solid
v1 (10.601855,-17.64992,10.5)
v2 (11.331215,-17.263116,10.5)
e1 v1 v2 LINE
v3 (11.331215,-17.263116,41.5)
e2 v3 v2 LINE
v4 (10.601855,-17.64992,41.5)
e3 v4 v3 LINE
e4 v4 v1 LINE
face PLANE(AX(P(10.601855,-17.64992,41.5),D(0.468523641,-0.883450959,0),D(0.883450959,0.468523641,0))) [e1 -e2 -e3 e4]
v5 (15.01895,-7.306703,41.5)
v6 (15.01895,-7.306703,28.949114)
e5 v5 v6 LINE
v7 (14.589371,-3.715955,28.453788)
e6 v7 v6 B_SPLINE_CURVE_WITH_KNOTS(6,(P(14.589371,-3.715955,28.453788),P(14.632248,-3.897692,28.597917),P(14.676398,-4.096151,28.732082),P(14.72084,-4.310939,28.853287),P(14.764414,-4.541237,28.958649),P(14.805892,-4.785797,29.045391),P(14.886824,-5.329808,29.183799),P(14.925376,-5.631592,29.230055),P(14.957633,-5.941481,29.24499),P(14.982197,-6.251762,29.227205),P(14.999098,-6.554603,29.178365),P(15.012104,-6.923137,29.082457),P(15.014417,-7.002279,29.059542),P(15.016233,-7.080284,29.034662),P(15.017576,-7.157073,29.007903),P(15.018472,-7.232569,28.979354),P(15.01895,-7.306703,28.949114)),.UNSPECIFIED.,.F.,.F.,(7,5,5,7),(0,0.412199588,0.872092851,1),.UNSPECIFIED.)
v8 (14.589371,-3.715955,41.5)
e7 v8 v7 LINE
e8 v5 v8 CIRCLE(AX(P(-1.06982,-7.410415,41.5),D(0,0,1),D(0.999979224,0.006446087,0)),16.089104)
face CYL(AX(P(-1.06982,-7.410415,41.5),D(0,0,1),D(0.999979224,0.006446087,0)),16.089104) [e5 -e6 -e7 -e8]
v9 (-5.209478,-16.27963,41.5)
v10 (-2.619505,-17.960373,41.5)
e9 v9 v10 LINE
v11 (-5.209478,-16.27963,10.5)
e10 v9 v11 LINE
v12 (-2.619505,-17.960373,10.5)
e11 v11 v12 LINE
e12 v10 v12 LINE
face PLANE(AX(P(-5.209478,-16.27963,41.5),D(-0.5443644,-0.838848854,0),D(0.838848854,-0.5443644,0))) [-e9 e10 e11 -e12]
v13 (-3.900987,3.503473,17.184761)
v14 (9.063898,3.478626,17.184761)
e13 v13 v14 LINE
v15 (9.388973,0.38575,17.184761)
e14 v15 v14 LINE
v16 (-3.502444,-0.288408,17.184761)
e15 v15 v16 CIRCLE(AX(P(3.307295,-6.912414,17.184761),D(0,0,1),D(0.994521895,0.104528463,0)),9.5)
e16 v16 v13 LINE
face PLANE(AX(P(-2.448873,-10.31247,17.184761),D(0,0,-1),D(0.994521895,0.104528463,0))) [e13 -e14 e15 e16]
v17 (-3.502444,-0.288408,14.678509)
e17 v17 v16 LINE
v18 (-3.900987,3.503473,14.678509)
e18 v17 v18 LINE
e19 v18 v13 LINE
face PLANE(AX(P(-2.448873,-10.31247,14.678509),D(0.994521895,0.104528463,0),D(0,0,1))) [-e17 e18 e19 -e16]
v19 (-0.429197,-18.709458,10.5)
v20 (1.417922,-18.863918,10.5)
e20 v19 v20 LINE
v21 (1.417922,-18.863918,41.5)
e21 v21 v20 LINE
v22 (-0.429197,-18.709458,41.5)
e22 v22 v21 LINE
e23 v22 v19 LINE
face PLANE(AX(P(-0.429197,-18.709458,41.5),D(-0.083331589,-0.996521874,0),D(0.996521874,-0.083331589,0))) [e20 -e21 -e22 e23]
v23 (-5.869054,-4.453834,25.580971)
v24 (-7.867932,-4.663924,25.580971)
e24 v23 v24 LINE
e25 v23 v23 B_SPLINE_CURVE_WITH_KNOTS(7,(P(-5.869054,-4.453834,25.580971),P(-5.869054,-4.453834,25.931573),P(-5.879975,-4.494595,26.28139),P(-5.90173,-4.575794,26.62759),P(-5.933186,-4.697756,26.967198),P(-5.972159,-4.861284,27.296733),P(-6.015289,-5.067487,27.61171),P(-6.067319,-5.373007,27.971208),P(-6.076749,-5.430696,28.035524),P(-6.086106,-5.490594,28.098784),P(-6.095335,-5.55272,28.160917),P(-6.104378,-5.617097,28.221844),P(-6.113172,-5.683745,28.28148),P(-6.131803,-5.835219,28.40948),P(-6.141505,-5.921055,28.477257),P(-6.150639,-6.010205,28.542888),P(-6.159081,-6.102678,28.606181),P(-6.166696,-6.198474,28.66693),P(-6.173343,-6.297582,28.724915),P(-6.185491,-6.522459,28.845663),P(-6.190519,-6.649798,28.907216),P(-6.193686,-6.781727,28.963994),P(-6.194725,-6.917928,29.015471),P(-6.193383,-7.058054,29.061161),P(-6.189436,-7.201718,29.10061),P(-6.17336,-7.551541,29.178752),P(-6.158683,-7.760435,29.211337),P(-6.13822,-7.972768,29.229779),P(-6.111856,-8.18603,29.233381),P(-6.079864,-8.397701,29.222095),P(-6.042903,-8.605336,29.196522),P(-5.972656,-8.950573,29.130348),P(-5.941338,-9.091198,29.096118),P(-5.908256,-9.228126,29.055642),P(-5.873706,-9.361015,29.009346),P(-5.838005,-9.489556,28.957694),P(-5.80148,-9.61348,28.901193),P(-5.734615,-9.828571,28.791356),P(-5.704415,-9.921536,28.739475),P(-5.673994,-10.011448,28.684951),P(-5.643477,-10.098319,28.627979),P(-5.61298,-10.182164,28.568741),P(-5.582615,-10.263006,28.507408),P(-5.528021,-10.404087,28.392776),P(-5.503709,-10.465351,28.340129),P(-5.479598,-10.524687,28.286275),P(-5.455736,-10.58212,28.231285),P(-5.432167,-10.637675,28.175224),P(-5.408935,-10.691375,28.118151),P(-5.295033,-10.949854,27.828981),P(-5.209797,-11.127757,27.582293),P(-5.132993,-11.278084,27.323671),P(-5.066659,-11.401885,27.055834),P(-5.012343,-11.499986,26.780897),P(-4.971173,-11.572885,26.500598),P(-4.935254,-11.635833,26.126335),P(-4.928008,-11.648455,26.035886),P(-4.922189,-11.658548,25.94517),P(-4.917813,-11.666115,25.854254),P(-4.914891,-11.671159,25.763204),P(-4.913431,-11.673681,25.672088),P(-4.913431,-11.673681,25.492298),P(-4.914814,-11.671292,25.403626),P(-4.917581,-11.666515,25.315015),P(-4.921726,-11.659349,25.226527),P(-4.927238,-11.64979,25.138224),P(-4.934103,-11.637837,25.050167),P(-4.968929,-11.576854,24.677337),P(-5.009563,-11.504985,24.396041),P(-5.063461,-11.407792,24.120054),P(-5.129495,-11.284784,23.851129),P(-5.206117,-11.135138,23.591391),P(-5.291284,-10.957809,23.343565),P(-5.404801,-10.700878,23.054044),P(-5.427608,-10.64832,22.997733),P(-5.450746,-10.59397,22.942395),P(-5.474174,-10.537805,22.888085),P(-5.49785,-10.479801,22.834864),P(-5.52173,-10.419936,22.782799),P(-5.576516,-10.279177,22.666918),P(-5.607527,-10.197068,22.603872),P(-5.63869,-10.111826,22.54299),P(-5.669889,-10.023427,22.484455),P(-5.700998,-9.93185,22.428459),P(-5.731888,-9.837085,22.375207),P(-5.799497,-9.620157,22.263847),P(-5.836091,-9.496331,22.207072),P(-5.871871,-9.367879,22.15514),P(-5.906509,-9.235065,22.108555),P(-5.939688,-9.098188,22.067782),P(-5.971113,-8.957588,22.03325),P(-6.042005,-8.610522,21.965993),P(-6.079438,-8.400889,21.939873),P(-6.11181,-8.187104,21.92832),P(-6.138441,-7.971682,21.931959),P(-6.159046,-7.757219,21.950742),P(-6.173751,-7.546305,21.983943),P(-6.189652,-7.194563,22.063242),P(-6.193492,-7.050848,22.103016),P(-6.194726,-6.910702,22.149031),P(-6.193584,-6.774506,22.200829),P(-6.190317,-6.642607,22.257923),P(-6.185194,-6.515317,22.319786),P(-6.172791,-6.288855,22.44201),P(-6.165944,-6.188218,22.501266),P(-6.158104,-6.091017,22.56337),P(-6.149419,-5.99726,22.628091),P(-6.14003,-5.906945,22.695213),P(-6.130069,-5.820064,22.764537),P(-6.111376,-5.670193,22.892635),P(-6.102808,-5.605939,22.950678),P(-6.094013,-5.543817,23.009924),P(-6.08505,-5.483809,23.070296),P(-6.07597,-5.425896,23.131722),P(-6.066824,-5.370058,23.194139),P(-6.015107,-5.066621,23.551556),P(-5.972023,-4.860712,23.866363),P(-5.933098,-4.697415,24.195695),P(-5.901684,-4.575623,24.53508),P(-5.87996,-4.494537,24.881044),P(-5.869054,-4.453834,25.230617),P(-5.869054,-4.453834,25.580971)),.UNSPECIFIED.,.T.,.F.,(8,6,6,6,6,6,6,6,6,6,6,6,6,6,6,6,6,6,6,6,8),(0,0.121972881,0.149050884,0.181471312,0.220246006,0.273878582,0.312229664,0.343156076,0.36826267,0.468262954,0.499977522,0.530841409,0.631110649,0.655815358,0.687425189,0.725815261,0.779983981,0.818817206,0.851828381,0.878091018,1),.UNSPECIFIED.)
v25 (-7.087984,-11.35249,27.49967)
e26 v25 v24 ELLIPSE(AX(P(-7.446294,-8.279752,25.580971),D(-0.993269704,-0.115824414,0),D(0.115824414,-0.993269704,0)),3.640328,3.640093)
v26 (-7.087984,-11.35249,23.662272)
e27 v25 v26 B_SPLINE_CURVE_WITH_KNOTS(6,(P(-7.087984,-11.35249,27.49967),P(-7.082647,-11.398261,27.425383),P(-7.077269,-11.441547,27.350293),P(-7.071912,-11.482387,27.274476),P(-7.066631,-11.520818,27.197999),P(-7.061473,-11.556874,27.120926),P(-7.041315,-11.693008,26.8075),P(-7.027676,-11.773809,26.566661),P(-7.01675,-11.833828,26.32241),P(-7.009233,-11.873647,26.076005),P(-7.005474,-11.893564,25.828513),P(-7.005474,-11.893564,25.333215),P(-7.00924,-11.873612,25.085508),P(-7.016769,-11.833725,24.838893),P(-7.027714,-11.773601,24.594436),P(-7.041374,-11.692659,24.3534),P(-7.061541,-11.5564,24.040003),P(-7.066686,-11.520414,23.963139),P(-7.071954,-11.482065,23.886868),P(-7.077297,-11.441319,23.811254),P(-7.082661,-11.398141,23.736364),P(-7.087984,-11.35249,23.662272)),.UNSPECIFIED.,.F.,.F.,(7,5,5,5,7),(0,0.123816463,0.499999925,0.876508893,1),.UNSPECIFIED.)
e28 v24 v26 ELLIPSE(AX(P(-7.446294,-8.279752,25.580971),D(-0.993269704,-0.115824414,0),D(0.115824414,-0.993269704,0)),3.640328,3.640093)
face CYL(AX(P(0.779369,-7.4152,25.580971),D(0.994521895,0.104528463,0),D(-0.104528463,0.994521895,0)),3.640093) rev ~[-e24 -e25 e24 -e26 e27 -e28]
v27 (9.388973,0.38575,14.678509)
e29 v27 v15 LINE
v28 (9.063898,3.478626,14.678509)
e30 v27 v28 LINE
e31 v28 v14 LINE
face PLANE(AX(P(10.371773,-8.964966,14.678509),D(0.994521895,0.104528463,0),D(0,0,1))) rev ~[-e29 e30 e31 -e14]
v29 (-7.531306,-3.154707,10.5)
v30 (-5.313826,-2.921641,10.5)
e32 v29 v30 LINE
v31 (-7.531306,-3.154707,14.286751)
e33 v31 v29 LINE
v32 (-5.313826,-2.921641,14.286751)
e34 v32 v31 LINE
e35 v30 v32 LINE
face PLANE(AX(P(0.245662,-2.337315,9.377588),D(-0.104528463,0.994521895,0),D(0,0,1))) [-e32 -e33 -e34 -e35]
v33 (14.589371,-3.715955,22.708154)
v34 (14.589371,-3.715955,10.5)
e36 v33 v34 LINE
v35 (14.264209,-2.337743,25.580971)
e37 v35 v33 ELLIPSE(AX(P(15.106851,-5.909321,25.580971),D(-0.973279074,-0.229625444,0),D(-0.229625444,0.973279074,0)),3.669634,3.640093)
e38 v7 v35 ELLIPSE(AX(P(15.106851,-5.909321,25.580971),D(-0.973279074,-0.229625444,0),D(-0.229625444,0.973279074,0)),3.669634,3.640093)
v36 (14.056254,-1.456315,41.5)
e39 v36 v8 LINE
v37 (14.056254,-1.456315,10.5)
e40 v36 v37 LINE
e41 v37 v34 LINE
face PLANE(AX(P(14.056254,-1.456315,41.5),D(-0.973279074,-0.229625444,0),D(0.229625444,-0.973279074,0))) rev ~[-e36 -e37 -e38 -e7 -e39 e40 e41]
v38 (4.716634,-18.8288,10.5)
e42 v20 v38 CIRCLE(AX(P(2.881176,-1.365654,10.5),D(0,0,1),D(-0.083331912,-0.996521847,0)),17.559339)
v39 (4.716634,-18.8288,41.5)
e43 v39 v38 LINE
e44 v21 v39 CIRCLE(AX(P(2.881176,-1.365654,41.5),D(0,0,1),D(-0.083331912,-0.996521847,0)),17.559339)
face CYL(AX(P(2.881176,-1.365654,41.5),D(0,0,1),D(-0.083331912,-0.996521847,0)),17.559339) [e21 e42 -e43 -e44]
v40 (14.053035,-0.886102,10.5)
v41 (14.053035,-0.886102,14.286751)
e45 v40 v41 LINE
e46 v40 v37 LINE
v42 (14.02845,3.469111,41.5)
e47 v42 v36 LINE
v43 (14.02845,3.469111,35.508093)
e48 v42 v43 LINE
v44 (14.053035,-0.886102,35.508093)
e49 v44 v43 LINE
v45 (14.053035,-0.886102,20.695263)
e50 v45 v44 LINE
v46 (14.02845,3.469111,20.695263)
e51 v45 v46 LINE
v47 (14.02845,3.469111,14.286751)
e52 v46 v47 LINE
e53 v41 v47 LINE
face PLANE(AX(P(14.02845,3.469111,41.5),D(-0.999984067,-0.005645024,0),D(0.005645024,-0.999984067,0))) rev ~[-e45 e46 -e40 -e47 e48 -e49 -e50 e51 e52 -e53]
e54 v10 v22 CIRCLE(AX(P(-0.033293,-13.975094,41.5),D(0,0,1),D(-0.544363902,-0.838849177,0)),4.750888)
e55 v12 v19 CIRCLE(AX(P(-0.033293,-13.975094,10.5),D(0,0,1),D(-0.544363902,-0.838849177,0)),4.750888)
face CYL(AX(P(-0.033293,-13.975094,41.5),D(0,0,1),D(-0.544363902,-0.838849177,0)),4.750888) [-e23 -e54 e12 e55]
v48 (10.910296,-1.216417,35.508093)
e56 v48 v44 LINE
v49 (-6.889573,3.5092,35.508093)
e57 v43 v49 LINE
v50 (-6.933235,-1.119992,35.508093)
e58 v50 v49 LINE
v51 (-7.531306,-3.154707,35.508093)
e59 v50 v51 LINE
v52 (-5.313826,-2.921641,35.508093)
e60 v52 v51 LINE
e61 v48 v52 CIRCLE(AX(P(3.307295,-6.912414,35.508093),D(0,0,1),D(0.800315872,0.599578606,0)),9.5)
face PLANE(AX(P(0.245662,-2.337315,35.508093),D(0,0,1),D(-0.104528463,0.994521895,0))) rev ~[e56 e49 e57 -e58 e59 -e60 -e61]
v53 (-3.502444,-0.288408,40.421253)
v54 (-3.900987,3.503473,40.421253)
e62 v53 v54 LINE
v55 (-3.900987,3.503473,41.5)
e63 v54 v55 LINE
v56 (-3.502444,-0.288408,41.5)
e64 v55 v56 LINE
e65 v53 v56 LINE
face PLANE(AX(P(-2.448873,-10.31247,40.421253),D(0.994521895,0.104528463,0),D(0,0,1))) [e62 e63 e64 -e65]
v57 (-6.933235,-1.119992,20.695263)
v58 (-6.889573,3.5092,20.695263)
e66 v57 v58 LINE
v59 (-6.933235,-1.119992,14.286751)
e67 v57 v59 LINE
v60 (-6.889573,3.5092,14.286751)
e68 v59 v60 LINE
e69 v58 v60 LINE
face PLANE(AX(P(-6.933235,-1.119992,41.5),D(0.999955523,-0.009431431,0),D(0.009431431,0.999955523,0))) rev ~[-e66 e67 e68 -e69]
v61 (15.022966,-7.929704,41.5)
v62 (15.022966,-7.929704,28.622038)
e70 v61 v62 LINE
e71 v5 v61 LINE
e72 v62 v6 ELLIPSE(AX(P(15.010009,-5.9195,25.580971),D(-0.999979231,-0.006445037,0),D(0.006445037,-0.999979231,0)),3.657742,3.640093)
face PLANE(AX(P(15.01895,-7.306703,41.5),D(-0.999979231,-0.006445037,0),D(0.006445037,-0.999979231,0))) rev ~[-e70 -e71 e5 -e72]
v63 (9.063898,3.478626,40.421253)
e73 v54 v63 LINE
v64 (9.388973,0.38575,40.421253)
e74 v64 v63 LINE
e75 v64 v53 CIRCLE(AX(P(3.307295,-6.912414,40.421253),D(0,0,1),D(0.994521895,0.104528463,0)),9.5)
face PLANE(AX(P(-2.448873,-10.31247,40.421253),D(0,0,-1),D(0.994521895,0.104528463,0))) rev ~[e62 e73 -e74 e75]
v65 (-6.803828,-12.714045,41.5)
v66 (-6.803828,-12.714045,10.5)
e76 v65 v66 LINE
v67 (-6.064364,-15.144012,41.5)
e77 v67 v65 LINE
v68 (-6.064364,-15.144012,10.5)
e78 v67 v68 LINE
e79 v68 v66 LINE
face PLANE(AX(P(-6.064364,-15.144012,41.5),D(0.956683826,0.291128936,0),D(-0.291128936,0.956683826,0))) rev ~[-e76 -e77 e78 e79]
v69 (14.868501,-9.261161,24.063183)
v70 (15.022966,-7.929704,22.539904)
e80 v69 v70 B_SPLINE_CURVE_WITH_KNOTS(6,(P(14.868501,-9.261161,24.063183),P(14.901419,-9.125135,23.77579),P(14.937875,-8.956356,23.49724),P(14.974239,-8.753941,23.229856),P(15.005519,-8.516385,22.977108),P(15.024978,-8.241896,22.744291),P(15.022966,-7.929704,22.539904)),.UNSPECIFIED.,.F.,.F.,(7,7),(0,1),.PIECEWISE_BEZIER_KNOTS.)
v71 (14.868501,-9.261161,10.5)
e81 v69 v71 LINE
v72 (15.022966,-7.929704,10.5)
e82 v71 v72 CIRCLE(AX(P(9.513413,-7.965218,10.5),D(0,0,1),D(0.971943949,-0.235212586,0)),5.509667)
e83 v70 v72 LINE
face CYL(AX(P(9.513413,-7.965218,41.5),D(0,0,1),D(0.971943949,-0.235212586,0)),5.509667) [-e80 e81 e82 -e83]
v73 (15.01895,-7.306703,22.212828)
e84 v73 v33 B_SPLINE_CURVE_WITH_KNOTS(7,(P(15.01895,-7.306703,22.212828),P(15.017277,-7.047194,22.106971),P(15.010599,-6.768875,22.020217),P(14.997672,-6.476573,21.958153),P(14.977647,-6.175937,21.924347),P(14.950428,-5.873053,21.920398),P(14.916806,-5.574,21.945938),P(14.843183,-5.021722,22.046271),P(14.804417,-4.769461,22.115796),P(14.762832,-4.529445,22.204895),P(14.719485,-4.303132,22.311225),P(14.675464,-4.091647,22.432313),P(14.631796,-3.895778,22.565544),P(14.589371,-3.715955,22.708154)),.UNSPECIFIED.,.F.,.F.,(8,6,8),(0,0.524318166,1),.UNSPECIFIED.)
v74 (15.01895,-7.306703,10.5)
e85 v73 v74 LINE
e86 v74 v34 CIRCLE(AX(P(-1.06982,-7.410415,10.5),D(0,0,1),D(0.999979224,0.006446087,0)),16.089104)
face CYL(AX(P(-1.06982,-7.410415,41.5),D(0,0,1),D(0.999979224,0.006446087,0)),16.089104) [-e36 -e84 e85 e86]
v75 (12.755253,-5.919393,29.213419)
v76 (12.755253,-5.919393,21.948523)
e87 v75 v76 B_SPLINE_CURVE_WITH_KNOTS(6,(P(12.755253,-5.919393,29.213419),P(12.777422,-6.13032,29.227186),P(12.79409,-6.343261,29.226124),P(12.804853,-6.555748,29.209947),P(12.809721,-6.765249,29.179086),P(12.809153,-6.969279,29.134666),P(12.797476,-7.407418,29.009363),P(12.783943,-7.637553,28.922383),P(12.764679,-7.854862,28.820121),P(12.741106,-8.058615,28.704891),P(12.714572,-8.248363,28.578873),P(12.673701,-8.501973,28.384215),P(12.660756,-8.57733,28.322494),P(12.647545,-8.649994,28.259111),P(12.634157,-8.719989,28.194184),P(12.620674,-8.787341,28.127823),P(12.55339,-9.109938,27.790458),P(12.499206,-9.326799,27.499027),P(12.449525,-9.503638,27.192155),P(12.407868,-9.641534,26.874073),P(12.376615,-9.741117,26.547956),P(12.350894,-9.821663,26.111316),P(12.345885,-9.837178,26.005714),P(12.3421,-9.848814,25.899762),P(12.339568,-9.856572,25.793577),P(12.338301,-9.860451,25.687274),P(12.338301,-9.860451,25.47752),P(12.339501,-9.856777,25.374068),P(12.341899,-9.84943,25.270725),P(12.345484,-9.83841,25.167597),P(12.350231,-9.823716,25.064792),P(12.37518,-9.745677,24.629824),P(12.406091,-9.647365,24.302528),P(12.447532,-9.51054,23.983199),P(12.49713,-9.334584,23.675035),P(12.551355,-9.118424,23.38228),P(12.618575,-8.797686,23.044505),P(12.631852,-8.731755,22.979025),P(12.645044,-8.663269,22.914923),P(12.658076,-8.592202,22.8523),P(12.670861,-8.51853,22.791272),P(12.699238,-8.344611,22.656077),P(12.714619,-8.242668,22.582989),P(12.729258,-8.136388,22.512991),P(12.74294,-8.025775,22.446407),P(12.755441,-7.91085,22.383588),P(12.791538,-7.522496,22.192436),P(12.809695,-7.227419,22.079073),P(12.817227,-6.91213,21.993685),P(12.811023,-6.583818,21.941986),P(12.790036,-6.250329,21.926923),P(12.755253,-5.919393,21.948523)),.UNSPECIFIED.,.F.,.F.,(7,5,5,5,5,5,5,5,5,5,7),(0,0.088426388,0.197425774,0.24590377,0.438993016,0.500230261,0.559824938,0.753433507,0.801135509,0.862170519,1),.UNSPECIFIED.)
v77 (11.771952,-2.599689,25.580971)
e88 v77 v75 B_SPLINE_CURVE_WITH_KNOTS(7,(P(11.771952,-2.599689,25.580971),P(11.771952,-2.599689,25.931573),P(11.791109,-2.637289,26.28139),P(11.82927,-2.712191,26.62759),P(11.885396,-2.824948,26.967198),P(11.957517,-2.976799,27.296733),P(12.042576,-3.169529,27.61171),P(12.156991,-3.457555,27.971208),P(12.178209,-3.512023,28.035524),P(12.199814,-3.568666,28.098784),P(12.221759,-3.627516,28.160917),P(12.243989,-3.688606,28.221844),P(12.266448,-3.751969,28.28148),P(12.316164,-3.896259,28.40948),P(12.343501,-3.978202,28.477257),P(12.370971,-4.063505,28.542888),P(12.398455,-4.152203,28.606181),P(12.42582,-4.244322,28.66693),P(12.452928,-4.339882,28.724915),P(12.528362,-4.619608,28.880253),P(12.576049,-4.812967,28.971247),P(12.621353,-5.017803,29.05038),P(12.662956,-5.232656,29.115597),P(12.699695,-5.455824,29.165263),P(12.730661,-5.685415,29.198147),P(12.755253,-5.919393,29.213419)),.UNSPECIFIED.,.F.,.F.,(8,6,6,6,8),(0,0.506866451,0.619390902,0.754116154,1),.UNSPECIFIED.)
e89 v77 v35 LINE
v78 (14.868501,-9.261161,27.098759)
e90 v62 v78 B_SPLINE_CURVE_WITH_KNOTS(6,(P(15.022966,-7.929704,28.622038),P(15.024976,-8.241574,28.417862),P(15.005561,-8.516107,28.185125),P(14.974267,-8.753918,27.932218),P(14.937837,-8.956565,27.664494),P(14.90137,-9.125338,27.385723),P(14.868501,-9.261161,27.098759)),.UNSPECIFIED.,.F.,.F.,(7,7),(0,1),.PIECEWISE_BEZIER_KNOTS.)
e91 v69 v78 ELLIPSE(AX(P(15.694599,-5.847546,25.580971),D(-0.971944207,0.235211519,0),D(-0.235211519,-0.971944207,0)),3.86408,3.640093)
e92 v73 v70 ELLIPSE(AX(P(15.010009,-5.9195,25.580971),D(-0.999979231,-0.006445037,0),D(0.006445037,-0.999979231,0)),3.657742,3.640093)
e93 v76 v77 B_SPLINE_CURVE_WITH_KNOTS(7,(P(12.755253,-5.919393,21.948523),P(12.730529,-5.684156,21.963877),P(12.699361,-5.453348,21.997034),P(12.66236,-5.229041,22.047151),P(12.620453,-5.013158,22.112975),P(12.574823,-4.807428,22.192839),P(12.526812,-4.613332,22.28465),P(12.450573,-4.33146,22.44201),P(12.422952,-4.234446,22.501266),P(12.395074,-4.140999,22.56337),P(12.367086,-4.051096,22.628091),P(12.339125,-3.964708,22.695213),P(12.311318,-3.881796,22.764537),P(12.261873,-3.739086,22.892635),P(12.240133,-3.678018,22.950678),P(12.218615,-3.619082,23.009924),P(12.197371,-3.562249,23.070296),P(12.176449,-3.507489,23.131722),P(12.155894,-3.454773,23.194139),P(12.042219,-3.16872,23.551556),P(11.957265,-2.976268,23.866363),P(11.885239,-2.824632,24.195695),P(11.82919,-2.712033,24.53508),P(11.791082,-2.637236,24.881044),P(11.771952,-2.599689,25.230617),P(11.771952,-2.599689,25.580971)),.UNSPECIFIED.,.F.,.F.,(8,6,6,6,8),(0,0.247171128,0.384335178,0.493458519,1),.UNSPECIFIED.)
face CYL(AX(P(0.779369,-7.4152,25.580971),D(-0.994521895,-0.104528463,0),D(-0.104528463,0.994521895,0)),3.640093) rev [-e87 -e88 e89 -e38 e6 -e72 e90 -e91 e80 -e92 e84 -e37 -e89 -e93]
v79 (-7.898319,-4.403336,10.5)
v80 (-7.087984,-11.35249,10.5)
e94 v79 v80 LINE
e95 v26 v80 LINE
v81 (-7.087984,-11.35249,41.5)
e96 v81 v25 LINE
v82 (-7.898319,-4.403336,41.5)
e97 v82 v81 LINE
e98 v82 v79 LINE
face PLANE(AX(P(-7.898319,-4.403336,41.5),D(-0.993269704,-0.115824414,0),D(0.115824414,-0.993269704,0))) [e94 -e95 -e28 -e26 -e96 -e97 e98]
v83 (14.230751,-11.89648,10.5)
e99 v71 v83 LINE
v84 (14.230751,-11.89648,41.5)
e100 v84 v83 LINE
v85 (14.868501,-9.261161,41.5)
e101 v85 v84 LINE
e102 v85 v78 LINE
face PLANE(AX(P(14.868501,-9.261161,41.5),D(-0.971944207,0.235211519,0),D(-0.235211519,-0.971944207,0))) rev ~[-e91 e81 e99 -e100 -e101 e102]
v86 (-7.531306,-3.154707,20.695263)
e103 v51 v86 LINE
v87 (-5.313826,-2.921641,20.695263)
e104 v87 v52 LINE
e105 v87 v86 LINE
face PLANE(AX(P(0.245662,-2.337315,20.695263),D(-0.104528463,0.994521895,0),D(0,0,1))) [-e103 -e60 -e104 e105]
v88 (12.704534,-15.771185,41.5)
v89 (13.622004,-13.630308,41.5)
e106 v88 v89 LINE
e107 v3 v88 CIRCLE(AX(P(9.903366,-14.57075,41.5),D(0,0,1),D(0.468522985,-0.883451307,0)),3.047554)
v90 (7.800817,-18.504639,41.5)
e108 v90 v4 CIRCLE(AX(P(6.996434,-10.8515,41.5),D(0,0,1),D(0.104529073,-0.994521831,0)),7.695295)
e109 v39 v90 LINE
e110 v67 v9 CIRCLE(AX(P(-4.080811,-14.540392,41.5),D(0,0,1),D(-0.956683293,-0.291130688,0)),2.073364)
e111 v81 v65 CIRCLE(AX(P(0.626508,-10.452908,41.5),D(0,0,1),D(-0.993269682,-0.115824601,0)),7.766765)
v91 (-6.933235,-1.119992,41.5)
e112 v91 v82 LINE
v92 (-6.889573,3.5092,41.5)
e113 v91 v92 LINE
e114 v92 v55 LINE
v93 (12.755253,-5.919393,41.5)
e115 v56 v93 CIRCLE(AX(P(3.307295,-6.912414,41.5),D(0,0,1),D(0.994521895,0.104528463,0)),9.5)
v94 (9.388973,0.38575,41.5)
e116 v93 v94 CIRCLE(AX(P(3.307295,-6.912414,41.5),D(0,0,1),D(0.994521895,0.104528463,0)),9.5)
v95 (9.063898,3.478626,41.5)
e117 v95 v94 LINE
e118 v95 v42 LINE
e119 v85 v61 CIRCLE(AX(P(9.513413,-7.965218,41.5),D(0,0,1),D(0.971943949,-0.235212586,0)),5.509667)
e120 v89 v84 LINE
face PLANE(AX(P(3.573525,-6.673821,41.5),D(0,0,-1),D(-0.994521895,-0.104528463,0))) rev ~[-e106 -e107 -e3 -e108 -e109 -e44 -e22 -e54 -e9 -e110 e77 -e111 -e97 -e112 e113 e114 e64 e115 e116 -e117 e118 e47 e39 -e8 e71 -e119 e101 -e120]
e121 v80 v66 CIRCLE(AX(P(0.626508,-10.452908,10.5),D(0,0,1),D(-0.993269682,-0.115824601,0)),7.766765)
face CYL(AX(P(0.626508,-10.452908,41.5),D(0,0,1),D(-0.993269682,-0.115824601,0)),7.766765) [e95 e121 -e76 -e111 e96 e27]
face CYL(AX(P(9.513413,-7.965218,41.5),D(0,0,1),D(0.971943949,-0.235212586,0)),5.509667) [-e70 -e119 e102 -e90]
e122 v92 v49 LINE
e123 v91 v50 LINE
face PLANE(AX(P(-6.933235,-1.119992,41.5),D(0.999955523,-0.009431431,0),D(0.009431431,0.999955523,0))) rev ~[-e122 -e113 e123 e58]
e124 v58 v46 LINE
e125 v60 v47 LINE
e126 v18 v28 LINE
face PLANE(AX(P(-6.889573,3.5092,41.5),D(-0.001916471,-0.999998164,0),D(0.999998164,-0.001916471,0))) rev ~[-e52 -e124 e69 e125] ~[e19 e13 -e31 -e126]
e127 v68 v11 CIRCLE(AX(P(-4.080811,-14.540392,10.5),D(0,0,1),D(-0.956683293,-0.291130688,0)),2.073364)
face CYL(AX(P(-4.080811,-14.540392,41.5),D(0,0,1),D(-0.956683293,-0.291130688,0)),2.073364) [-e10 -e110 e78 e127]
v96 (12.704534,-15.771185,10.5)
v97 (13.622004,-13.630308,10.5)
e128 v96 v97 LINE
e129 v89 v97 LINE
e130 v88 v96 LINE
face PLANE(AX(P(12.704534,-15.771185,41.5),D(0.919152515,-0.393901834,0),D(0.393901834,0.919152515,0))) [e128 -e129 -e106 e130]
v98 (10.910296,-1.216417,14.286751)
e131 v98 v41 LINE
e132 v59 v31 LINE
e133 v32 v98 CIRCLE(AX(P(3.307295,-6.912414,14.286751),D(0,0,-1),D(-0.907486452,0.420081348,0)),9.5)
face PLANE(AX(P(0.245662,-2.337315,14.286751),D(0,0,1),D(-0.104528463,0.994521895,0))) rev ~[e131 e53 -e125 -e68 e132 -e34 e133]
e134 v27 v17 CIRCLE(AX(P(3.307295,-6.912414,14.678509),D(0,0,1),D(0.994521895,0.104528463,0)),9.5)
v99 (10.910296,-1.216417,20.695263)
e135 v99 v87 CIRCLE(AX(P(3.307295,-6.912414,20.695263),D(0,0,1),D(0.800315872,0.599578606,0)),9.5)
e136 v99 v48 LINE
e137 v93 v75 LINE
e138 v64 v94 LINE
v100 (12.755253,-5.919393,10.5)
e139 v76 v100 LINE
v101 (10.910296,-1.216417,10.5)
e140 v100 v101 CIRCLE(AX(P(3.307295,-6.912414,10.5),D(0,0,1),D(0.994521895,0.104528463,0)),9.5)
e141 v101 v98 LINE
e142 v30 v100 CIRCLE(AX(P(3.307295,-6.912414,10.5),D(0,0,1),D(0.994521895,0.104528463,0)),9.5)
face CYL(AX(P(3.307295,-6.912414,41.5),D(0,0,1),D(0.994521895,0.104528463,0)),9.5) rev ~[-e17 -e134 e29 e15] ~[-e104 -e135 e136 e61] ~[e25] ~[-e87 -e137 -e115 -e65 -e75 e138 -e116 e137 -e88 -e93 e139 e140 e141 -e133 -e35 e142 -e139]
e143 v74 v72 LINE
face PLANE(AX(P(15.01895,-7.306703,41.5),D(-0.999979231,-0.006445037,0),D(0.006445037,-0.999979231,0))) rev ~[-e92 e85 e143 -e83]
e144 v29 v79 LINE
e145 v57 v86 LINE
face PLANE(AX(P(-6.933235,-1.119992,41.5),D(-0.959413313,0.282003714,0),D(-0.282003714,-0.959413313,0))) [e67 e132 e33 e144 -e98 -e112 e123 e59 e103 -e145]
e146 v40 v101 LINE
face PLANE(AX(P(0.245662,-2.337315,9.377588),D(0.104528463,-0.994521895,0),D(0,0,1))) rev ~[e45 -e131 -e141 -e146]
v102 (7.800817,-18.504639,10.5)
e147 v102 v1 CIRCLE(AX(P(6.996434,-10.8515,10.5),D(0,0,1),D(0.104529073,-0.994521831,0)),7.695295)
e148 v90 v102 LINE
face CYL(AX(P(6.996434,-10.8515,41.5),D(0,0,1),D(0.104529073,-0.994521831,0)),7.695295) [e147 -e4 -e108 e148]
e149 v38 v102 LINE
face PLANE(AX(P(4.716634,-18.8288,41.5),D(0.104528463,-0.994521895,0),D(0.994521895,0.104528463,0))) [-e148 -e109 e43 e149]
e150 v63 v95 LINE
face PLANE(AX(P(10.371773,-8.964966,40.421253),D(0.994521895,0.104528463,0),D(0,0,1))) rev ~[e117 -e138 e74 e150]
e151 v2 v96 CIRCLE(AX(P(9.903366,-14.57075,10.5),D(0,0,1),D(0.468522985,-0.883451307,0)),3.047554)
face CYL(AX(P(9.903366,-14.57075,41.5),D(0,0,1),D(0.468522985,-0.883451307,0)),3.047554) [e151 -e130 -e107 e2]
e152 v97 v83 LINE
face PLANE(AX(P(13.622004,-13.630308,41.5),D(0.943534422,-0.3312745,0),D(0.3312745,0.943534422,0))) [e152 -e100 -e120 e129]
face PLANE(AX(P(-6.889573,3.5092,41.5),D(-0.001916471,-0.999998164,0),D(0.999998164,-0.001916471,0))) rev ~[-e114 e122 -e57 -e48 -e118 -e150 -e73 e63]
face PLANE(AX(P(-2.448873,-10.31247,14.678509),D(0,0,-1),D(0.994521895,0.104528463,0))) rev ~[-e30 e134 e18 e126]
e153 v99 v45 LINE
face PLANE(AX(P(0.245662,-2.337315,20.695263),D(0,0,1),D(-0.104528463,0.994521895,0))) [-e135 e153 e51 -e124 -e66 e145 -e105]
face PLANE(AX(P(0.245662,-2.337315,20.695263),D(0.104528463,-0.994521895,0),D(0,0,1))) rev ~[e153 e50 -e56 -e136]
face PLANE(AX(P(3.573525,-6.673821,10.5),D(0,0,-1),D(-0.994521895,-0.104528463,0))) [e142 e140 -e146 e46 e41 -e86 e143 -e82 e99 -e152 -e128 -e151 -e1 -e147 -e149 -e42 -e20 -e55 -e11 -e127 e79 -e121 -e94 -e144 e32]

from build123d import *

# Parameters (mm, degrees)
SKETCH786_R             = 9.5
PAD342_DEPTH            = 31
SKETCH800_R             = 3.640093
SKETCH800_W             = 8.018949
SKETCH800_H             = 14.81283
SKETCH800_H_2           = 4.909163
POCKET216_DEPTH         = 8.316326
POCKET216_DEPTH_BACK    = 14.315221
SKETCH801_W             = 12.891265
SKETCH801_H             = 2.411679
SKETCH801_H_2           = 1.655072
SKETCH801_H_3           = 2.506252
SKETCH801_H_4           = 2.364388
POCKET217_DEPTH         = 14.211133
BODY063_PLACEMENT_ANGLE = 6


with BuildPart() as part:
    # Sketch786 → Pad342 (new body)
    with BuildSketch(Plane.XY.offset(62)):
        with BuildLine():
            Line((-6.48502, 14.210133), (14.314221, 11.983735))
            Line((14.314221, 11.983735), (13.827026, 7.082384))
            Line((13.827026, 7.082384), (14.121025, 4.779397))
            ThreePointArc((14.172916, 1.163416), (14.248889, 2.972869), (14.121025, 4.779397))
            Line((14.172916, 1.163416), (14.111788, 0.543408))
            ThreePointArc((13.818994, -0.764609), (14.005316, -0.119537), (14.111788, 0.543408))
            Line((13.818994, -0.764609), (12.909272, -3.318828))
            Line((12.122626, -4.979527), (12.909272, -3.318828))
            Line((10.986399, -7.012774), (12.122626, -4.979527))
            ThreePointArc((9.464654, -8.352981), (10.340262, -7.813155), (10.986399, -7.012774))
            Line((8.698858, -8.661427), (9.464654, -8.352981))
            ThreePointArc((5.823821, -9.218676), (7.288092, -9.078079), (8.698858, -8.661427))
            Line((2.72265, -9.218676), (5.823821, -9.218676))
            ThreePointArc((-0.561662, -8.908793), (1.073201, -9.141034), (2.72265, -9.218676))
            Line((-2.382517, -8.562102), (-0.561662, -8.908793))
            ThreePointArc((-4.482526, -7.588171), (-3.492747, -8.204996), (-2.382517, -8.562102))
            Line((-6.882625, -5.64591), (-4.482526, -7.588171))
            ThreePointArc((-7.614123, -4.427153), (-7.356079, -5.101176), (-6.882625, -5.64591))
            Line((-7.614123, -4.427153), (-8.095536, -1.933202))
            ThreePointArc((-8.235814, -0.549404), (-8.196714, -1.24445), (-8.095536, -1.933202))
            Line((-8.315326, 6.446385), (-8.235814, -0.549404))
            Line((-7.012325, 9.610864), (-8.315326, 6.446385))
            Line((-7.012325, 9.610864), (-6.48502, 14.210133))
        make_face()
        with Locations((2.566633, 2.779747)):
            Circle(SKETCH786_R, mode=Mode.SUBTRACT)
    extrude(amount=-PAD342_DEPTH)

    # Sketch800 → Pocket216 (cut, two sides)
    with BuildSketch(Plane.YZ) as pocket216_sk:
        with Locations((2.543955, 46.080971)):
            Circle(SKETCH800_R)
        with Locations((11.659285, 48.601678)):
            Rectangle(SKETCH800_W, SKETCH800_H)
        with Locations((11.659285, 32.332169)):
            Rectangle(SKETCH800_W, SKETCH800_H_2)
    extrude(amount=-POCKET216_DEPTH, mode=Mode.SUBTRACT)
    extrude(pocket216_sk.sketch, amount=POCKET216_DEPTH_BACK, mode=Mode.SUBTRACT)

    # Sketch801 → Pocket217 (cut, through all)
    with BuildSketch(Plane.XZ):
        with Locations((2.932228, 62.127093)):
            Rectangle(SKETCH801_W, SKETCH801_H)
        with Locations((2.932228, 30.93466)):
            Rectangle(SKETCH801_W, SKETCH801_H_2)
        with Locations((2.932228, 36.431635)):
            Rectangle(SKETCH801_W, SKETCH801_H_3)
        with Locations((2.932228, 53.693306)):
            Rectangle(SKETCH801_W, SKETCH801_H_4)
    extrude(amount=-POCKET217_DEPTH, mode=Mode.SUBTRACT)


with BuildPart() as part_1:
    # Body063 placement: moved
    add(part.part.moved(Location((1.045285, -9.945219, -20.5))).rotate(Axis((1.045285, -9.945219, -20.5), (0, 0, 1)), BODY063_PLACEMENT_ANGLE))


solid = part_1.part
